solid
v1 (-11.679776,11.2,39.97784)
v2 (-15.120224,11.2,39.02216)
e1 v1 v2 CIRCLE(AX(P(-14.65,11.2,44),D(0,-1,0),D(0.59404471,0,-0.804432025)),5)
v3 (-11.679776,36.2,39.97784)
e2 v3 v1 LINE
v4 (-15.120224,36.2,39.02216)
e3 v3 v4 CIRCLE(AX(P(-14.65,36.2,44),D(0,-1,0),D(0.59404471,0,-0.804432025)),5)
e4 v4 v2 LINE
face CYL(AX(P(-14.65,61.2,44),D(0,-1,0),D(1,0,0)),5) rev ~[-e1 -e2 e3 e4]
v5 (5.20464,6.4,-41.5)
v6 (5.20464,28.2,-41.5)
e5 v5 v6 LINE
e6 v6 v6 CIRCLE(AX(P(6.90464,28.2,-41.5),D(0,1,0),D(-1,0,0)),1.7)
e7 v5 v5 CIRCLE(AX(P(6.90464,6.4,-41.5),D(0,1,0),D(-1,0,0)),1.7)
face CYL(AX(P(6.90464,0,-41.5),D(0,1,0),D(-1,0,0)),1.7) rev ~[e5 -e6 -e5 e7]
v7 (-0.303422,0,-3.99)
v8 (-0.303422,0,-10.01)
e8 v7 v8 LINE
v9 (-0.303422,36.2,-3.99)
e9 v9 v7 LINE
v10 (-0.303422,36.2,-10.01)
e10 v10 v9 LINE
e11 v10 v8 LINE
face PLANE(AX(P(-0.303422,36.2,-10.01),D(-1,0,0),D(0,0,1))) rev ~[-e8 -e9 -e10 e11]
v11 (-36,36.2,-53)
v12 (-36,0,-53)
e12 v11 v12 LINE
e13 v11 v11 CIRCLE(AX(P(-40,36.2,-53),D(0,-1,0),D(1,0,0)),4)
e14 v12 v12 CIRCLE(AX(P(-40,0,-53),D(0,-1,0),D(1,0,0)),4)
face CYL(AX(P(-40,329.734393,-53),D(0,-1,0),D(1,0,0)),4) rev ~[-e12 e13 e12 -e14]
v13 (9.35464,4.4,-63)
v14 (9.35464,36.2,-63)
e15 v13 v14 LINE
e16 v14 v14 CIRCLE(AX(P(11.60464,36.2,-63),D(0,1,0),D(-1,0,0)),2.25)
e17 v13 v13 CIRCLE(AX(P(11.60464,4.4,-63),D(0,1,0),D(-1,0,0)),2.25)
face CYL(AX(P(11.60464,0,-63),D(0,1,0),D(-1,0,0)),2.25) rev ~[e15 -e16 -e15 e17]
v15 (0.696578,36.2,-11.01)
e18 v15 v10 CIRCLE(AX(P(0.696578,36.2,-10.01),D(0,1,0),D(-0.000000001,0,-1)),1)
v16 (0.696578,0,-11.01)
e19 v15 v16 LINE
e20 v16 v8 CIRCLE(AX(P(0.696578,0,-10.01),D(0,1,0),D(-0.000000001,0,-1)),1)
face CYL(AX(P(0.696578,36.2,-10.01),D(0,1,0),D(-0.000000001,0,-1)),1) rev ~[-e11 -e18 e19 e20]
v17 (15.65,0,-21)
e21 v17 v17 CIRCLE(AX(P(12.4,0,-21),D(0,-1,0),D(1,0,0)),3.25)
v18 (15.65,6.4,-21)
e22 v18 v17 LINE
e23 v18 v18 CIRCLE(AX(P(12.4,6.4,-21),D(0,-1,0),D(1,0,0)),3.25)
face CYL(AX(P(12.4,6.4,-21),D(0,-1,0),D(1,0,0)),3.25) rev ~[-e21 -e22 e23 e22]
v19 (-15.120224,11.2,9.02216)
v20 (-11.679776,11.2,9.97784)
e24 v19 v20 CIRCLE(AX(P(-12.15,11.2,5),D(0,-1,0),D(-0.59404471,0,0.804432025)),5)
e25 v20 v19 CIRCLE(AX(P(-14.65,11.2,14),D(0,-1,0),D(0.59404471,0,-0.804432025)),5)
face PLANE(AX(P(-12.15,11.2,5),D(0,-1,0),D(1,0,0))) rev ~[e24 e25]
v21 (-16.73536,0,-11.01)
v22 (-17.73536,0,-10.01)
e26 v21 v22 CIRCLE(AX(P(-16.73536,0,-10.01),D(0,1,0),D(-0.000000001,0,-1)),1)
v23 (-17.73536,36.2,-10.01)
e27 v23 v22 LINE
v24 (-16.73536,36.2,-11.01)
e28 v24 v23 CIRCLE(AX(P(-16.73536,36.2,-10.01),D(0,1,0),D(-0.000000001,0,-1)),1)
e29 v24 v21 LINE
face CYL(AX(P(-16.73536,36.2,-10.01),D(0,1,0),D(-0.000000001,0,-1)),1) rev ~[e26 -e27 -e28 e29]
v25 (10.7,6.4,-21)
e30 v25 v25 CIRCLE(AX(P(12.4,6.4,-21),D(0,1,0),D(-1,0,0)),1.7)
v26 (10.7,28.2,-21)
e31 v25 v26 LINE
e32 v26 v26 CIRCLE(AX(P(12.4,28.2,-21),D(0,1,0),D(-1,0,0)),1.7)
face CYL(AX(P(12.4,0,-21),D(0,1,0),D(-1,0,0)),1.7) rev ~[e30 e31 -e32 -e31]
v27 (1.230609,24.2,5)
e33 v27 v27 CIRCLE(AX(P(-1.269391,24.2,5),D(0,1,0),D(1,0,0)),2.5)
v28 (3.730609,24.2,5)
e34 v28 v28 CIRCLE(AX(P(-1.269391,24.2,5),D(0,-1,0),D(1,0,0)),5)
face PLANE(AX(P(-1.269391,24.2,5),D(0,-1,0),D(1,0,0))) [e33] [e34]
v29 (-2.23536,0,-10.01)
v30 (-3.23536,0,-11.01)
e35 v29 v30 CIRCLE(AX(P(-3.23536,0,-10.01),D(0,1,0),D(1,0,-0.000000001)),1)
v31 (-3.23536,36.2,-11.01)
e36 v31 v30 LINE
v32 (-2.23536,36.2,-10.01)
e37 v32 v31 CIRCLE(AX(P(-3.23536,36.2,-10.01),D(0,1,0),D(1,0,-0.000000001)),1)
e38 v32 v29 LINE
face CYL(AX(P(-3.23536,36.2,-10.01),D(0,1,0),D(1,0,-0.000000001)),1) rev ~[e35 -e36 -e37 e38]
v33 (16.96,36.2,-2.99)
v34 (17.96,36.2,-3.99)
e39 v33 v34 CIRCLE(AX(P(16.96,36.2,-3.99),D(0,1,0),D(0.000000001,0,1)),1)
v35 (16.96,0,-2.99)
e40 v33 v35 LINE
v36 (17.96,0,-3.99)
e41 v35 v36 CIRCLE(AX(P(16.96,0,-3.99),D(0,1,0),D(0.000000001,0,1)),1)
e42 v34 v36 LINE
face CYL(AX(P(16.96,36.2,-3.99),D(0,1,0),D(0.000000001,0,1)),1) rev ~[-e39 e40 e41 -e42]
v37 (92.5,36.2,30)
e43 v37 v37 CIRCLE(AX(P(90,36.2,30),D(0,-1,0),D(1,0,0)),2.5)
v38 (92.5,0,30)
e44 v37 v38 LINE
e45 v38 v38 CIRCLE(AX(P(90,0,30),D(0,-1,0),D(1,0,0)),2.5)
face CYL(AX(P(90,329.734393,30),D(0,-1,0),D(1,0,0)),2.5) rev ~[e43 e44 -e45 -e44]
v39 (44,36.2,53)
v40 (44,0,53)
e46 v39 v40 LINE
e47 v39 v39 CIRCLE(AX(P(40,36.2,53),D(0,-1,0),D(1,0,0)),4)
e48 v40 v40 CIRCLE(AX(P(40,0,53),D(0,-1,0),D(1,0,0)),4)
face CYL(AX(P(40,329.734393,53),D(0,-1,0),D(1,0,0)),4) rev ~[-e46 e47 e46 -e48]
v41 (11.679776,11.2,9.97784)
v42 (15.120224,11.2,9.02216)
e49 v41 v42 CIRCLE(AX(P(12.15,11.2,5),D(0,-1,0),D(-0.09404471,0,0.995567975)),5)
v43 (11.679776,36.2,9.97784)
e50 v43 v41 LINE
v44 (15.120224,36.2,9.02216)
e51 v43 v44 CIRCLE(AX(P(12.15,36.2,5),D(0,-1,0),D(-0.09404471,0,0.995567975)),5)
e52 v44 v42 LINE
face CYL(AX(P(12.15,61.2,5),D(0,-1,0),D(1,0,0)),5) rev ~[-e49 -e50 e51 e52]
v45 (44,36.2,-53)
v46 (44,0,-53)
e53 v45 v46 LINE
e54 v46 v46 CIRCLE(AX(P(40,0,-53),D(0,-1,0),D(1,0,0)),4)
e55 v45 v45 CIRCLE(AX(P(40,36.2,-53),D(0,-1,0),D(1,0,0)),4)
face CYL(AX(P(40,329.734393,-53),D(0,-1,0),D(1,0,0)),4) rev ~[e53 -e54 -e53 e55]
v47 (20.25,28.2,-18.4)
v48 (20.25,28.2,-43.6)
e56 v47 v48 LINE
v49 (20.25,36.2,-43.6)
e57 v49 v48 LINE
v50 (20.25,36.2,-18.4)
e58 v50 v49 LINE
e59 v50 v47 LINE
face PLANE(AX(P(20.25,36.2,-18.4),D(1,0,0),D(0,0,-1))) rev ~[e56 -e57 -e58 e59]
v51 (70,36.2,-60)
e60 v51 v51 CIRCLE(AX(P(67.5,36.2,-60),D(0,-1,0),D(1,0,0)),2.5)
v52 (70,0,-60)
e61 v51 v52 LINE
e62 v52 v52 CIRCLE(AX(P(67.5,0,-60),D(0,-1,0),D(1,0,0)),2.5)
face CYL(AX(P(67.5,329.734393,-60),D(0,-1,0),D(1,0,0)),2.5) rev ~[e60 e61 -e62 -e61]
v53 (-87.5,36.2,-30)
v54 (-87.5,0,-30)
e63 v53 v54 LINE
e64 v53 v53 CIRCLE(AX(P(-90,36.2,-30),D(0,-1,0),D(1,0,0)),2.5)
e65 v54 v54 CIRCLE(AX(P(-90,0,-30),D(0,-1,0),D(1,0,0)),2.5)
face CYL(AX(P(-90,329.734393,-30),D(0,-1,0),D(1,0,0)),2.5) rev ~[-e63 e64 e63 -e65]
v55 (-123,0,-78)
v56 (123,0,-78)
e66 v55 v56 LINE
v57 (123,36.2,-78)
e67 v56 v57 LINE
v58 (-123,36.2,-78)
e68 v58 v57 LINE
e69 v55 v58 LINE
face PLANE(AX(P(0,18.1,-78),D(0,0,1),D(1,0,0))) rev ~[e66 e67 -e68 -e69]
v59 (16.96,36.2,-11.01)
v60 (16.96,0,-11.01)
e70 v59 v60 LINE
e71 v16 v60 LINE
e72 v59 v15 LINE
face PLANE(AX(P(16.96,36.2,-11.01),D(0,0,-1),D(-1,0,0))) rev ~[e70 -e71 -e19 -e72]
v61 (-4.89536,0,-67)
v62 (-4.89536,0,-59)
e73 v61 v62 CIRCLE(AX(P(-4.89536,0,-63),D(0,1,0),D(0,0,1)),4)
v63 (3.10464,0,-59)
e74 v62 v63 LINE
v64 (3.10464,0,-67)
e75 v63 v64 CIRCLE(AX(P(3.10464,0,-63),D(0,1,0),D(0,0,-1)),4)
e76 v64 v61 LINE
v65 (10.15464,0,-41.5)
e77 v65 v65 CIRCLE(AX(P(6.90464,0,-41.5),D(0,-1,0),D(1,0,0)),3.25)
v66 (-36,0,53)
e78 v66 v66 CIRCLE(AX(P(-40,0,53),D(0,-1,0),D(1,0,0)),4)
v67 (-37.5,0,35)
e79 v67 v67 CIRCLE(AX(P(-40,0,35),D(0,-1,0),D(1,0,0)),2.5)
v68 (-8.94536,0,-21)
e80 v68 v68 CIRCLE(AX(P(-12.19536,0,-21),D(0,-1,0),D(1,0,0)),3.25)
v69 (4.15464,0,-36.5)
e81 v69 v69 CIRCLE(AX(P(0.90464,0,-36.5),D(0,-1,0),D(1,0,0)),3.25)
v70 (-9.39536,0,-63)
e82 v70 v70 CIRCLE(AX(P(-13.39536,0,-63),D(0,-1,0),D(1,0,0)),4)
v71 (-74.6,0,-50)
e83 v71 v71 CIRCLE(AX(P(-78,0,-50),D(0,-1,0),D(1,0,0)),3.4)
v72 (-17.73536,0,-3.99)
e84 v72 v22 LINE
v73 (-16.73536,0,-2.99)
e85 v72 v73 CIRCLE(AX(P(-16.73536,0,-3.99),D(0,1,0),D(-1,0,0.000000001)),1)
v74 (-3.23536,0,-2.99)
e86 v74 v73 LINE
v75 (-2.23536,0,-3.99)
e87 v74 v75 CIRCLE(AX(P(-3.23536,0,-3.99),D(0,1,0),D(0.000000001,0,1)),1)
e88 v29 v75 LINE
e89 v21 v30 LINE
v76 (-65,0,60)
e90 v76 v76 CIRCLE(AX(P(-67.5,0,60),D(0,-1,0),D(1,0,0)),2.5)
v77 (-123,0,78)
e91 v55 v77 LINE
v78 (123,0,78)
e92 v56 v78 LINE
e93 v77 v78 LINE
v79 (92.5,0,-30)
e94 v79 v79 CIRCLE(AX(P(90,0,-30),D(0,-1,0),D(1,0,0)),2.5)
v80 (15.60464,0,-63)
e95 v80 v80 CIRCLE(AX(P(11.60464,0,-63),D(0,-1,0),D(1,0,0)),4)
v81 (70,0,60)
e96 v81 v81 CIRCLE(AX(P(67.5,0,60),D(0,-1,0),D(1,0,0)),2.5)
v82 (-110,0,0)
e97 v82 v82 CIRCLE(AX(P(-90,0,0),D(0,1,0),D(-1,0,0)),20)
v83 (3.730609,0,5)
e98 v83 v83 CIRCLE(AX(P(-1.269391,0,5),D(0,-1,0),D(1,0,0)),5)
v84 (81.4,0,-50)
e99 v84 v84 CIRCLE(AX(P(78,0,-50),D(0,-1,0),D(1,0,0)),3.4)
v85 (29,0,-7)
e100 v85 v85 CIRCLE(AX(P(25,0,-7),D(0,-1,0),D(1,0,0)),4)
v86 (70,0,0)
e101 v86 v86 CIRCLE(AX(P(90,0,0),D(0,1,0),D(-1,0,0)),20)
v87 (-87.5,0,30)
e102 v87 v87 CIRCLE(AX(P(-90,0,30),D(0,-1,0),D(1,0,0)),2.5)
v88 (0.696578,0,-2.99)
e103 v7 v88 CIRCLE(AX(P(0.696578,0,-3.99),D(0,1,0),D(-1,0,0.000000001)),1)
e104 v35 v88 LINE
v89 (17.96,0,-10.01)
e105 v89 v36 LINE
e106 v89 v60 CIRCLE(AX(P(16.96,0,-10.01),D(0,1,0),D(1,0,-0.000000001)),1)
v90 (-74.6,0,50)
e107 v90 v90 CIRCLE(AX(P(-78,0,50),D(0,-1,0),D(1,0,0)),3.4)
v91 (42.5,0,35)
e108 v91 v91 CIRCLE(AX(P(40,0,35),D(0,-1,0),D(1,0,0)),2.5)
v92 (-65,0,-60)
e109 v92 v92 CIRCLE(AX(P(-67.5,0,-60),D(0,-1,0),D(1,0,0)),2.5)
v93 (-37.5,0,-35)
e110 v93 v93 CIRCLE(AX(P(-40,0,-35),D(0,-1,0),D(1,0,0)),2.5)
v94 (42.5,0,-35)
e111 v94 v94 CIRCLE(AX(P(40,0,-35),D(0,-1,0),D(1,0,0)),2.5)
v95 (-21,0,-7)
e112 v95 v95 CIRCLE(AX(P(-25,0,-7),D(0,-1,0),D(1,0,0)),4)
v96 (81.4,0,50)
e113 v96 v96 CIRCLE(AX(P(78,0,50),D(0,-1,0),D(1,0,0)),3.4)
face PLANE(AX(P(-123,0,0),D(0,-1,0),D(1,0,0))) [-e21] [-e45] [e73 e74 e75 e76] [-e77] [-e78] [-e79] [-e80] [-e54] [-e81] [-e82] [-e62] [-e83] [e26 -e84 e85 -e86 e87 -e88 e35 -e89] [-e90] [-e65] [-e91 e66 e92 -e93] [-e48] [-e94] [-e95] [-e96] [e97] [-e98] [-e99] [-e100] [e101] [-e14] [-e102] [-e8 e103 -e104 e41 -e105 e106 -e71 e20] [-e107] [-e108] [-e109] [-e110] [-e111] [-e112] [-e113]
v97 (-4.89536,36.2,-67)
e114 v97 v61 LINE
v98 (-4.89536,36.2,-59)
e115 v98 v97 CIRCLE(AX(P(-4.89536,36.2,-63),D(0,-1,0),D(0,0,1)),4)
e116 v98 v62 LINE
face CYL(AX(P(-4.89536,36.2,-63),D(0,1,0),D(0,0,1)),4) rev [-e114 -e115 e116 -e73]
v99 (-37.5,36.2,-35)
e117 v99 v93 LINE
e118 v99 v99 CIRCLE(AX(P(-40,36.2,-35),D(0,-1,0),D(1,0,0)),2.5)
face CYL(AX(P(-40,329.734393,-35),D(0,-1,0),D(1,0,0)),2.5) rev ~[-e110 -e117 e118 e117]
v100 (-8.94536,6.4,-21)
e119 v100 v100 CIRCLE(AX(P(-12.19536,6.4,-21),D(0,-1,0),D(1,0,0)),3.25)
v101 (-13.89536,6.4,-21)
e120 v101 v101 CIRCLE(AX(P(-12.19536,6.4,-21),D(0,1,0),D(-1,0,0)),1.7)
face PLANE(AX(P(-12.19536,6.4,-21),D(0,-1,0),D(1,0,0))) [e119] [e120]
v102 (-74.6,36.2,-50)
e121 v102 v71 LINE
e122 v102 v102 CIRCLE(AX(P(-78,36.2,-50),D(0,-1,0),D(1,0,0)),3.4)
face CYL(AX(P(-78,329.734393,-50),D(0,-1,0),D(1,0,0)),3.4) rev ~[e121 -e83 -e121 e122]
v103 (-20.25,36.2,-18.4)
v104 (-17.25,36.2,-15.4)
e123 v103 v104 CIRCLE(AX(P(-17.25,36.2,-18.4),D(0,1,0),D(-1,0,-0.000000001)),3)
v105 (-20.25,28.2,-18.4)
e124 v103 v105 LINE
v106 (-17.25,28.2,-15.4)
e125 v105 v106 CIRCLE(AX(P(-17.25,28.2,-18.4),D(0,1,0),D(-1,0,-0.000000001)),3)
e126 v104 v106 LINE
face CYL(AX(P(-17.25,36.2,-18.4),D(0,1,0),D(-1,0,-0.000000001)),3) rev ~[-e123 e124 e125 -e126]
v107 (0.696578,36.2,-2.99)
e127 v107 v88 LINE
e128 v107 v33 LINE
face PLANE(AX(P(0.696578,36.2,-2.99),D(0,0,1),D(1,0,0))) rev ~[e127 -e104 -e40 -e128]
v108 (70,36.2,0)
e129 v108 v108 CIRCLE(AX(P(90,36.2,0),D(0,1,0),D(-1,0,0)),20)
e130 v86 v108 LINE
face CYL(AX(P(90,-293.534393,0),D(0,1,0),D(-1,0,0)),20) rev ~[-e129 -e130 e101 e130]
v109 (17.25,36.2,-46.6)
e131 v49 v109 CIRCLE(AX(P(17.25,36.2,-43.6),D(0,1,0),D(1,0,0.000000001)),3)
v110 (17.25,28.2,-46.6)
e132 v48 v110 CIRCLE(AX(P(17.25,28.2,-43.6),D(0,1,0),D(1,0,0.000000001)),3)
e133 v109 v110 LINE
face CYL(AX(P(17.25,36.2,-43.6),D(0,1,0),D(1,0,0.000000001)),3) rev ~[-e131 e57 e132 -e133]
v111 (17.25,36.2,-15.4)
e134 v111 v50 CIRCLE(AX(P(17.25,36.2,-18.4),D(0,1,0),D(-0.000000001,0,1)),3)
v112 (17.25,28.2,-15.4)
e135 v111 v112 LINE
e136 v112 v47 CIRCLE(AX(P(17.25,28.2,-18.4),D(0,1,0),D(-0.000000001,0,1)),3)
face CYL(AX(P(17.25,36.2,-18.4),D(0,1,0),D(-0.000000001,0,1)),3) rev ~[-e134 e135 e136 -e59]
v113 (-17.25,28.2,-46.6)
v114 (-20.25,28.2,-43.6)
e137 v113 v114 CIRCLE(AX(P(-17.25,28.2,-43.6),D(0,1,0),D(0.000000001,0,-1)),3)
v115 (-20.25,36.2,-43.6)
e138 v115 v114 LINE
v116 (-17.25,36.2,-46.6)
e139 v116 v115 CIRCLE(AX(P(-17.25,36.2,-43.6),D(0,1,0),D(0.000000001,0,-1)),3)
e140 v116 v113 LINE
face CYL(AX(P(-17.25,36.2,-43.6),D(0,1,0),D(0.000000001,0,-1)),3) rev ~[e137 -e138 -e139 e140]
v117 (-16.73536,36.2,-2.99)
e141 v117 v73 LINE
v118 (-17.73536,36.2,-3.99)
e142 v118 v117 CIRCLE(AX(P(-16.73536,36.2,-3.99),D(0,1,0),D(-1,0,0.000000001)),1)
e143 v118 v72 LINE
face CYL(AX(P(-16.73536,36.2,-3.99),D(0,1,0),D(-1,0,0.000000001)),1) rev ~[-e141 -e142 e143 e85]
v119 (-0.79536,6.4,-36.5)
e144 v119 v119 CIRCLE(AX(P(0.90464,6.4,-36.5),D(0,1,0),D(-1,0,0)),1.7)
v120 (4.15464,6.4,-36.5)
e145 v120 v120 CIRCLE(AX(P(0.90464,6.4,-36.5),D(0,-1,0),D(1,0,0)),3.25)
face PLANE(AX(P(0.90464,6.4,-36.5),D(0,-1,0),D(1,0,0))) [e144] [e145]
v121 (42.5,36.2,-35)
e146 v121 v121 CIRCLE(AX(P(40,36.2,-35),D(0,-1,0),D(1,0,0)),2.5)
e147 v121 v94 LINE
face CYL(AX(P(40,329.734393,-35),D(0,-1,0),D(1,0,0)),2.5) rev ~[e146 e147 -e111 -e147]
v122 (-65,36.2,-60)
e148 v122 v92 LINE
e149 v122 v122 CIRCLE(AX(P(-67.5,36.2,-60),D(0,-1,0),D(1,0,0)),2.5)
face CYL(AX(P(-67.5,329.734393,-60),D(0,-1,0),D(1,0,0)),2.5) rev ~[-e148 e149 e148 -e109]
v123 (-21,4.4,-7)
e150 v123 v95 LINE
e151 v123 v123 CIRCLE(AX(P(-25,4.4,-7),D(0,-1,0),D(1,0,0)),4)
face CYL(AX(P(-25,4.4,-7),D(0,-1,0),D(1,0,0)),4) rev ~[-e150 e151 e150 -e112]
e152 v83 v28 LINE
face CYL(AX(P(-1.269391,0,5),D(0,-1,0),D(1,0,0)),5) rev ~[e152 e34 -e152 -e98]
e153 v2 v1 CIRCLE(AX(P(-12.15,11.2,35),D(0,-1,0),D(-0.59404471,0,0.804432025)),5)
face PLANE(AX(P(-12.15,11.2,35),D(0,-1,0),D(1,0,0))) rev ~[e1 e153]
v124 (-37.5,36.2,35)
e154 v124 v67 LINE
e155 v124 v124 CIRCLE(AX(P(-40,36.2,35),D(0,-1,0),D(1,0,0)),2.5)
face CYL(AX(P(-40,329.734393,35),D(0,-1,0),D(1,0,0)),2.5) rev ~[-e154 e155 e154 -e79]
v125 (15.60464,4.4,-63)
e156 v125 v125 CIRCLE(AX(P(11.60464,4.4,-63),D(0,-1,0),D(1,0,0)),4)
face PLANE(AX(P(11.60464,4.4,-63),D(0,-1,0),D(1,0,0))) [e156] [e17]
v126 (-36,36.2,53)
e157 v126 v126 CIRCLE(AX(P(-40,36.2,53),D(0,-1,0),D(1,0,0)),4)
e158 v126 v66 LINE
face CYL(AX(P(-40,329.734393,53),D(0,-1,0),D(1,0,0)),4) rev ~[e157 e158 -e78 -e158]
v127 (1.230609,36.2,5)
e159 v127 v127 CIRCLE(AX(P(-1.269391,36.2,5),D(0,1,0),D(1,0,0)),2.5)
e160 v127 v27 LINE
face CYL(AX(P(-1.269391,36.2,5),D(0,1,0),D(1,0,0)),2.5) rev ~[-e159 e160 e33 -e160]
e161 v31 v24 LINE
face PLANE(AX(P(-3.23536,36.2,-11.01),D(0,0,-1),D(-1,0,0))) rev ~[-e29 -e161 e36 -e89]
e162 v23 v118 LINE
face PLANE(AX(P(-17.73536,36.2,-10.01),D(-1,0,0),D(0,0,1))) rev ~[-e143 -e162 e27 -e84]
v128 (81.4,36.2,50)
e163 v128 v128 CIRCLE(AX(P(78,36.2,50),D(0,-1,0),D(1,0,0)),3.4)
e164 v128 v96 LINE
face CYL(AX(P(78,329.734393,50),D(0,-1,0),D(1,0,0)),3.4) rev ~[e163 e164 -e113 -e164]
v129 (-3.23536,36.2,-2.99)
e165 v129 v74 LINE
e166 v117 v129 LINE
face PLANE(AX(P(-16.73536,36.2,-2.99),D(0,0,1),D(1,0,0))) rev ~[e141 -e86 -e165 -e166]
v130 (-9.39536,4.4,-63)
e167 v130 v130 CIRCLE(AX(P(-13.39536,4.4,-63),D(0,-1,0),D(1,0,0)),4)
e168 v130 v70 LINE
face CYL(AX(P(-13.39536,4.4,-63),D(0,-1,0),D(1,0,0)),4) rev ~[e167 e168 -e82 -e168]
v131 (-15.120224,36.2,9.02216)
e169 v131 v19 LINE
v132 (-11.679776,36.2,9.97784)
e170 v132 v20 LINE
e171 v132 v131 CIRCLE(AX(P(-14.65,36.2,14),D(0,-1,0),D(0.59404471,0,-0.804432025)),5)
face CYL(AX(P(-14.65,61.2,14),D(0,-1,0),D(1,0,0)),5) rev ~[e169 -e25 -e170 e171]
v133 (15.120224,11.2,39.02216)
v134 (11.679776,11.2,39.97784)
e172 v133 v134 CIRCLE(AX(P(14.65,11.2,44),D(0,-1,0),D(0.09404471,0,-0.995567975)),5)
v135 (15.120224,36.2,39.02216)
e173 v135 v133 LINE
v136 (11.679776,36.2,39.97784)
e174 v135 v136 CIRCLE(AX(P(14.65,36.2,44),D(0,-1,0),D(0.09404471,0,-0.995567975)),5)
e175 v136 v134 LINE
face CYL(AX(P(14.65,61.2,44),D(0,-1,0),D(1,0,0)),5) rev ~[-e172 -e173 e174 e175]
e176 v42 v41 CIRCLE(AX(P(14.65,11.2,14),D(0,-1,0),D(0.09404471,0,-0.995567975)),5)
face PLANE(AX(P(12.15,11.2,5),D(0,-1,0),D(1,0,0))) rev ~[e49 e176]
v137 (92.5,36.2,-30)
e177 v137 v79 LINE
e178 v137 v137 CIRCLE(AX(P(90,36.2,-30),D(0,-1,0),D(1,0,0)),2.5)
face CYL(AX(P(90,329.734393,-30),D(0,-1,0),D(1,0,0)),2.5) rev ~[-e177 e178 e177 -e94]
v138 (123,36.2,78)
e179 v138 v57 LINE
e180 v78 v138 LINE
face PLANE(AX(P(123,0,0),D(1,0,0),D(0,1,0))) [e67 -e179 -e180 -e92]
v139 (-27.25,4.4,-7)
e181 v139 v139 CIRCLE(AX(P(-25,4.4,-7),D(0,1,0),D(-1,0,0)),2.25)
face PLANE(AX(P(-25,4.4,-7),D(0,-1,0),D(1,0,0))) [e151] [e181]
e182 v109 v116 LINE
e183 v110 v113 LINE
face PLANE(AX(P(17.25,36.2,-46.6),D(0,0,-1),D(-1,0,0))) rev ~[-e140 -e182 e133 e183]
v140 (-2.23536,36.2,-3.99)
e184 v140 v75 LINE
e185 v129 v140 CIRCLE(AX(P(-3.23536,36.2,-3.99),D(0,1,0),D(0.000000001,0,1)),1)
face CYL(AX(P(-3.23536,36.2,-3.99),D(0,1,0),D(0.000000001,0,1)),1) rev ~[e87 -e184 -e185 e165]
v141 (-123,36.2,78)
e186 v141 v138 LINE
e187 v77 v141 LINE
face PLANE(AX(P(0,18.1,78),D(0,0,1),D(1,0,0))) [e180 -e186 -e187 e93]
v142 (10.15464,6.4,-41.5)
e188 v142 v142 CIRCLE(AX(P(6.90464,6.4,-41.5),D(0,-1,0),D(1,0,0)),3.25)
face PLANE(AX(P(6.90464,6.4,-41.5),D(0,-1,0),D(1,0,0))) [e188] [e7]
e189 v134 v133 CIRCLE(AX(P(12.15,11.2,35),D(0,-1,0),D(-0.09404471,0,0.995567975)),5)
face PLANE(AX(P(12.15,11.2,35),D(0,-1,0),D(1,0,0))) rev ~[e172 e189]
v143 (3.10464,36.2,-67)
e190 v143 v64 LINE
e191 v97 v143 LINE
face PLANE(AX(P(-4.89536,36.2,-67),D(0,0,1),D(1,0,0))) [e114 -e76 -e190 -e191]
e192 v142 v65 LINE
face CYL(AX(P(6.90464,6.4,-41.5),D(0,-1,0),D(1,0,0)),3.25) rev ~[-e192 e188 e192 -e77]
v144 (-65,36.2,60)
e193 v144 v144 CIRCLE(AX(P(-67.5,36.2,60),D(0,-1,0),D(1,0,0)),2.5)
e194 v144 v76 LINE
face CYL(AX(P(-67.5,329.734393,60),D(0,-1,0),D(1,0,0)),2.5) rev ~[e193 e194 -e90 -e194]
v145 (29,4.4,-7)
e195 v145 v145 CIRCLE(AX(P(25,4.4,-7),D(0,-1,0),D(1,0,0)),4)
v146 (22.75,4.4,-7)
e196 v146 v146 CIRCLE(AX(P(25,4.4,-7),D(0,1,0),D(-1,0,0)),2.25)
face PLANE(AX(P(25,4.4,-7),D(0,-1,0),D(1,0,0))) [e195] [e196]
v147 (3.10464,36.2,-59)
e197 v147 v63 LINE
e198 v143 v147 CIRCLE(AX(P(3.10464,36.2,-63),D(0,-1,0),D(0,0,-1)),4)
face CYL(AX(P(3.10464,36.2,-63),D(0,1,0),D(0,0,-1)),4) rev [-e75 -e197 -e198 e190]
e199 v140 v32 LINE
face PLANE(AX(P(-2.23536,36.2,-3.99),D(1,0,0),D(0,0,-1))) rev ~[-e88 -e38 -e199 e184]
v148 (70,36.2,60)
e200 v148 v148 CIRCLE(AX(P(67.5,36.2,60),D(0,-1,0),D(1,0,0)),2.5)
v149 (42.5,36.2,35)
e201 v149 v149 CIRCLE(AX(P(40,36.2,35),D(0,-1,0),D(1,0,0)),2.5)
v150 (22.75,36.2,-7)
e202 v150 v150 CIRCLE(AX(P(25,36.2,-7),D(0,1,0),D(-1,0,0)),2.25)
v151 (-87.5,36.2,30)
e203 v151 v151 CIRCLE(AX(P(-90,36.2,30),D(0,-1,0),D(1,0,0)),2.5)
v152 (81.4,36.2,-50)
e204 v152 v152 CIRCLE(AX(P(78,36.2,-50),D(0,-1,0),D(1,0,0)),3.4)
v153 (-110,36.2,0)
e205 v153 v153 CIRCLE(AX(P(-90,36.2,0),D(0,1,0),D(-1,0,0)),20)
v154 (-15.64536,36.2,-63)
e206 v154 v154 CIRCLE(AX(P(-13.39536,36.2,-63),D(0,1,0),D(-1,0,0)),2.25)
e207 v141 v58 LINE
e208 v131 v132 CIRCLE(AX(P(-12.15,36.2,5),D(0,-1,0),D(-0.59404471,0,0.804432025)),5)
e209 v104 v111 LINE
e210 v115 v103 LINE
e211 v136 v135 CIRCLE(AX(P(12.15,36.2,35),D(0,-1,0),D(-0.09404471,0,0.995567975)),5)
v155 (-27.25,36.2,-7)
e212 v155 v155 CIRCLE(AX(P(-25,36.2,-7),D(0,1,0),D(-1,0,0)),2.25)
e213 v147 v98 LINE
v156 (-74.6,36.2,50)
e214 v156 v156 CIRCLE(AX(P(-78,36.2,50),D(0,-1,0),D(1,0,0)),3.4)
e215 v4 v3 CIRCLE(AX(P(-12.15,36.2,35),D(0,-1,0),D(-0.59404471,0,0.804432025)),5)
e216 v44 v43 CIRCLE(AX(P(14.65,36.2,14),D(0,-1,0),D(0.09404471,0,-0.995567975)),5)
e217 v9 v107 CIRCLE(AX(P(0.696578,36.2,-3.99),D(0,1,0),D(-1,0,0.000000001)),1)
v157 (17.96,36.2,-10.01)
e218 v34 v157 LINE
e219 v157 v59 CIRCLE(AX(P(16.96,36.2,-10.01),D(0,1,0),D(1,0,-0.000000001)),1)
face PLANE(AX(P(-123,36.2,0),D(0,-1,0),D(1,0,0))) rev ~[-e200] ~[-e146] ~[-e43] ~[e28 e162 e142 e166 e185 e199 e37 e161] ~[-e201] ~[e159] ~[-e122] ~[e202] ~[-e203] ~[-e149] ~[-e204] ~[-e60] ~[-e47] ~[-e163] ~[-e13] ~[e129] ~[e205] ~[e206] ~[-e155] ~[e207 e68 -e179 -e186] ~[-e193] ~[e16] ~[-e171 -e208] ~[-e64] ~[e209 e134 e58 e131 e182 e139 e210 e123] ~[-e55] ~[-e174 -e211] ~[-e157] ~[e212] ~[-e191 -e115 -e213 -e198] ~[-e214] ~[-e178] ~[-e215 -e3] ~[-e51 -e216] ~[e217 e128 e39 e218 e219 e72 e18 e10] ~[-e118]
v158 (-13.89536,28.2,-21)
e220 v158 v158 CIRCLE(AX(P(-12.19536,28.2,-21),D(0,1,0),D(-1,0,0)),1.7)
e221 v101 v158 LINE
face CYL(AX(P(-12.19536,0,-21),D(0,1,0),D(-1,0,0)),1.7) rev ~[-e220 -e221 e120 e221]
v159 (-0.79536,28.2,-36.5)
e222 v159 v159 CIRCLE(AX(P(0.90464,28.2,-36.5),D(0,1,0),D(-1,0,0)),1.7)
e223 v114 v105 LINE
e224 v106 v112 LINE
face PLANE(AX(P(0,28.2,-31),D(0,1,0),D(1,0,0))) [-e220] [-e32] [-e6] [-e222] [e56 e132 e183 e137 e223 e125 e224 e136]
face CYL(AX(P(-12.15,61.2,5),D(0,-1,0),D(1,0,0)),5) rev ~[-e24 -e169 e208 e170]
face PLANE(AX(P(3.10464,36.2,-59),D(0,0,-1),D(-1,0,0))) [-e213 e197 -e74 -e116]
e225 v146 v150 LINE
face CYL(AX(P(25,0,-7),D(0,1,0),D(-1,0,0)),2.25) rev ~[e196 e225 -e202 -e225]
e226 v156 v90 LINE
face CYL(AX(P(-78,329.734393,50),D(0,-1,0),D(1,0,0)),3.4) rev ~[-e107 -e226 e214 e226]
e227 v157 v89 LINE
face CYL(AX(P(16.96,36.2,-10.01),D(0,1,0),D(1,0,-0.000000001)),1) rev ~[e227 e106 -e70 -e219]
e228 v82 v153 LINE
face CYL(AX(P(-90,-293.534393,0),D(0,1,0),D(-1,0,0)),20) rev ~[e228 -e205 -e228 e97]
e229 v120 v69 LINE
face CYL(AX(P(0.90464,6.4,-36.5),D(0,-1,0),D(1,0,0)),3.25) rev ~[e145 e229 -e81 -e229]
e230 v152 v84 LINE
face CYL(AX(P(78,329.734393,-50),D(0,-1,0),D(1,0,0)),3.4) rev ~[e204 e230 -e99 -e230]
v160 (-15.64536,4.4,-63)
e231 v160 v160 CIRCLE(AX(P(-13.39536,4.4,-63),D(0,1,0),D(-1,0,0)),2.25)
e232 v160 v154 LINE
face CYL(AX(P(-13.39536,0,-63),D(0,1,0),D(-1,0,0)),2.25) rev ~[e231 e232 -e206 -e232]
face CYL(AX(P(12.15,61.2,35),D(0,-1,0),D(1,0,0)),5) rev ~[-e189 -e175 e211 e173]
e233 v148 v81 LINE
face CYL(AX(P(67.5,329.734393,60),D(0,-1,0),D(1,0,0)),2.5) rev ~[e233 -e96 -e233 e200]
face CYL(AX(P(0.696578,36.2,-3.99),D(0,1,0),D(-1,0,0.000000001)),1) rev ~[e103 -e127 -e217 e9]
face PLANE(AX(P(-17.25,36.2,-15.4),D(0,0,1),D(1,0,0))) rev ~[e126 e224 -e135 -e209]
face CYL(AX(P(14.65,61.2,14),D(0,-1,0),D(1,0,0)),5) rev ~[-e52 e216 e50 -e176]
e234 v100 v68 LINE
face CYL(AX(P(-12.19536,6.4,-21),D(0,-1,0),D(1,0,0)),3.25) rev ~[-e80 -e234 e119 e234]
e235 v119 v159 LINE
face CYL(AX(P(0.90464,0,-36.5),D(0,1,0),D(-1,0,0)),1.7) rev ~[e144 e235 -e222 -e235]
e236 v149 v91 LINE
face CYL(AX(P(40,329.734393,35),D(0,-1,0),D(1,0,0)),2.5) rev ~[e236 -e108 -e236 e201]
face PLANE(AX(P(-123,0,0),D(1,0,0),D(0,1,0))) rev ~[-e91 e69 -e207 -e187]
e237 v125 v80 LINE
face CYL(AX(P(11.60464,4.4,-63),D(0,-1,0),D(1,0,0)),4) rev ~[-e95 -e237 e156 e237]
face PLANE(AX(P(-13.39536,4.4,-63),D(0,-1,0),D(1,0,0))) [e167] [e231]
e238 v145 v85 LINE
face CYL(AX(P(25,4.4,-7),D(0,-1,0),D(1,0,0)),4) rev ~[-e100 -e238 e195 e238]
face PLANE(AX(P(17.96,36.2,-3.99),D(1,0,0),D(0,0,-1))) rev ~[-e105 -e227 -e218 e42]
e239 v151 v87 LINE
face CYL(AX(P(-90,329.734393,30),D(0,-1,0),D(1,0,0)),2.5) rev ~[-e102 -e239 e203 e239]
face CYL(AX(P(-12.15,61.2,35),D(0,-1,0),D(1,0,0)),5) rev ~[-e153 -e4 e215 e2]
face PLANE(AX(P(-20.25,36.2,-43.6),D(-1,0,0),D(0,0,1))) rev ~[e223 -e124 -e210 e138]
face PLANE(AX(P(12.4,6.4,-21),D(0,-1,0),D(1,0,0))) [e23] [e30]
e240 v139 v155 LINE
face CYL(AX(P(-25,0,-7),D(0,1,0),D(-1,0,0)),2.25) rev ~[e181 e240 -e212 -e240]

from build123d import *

# Parameters (mm, degrees)
SKETCH1_W                                           = 246
SKETCH1_H                                           = 36.2
EXTRUDE1_DEPTH                                      = 78
HOLE3_D                                             = 40
LPATTERN1_COUNT                                     = 2
LPATTERN1_PITCH                                     = 180
M6_TAPPED_HOLE1_D                                   = 5
HOLE4_D                                             = 8
M8_TAPPED_HOLE1_D                                   = 6.8
LPATTERN2_COUNT                                     = 2
LPATTERN2_PITCH                                     = 100
LPATTERN2_COUNT_DIR2                                = 2
LPATTERN2_PITCH_DIR2                                = 156
M6_TAPPED_HOLE2_D                                   = 5
M6_TAPPED_HOLE3_D                                   = 5
LPATTERN3_COUNT                                     = 2
LPATTERN3_PITCH                                     = 135
LPATTERN3_COUNT_DIR2                                = 2
LPATTERN3_PITCH_DIR2                                = 120
HOLE6_D                                             = 10
HOLE6_DEPTH                                         = 25
SKETCH30_R                                          = 2.5
CUT_EXTRUDE1_DEPTH                                  = 37.2
SKETCH31_R                                          = 5
CUT_EXTRUDE2_DEPTH                                  = 24.2
CBORE_FOR_M3_HEX_SOCKET_HEAD_CAP_SCREW1_D           = 3.4
CBORE_FOR_M3_HEX_SOCKET_HEAD_CAP_SCREW1_CBORE_D     = 6.5
CBORE_FOR_M3_HEX_SOCKET_HEAD_CAP_SCREW1_CBORE_DEPTH = 6.4
CBORE_FOR_M4_HEX_SOCKET_HEAD_CAP_SCREW1_D           = 4.5
CBORE_FOR_M4_HEX_SOCKET_HEAD_CAP_SCREW1_CBORE_D     = 8
CBORE_FOR_M4_HEX_SOCKET_HEAD_CAP_SCREW1_CBORE_DEPTH = 4.4
CUT_EXTRUDE3_DEPTH                                  = 8


with BuildPart() as part:
    # Sketch1 → Extrude1 (new body, symmetric)
    with BuildSketch(Plane.XY):
        with Locations((0, 18.1)):
            Rectangle(SKETCH1_W, SKETCH1_H)
    extrude(amount=EXTRUDE1_DEPTH, both=True)

    # Hole3 (through all)
    with Locations(Plane.XZ):
        with Locations((90, 0)):
            hole3 = Hole(HOLE3_D / 2)

    # LPattern1: Hole3 ×2
    with Locations(*[(-i * LPATTERN1_PITCH, 0, 0) for i in range(1, LPATTERN1_COUNT)]):
        add(hole3, mode=Mode.SUBTRACT)

    # M6 Tapped Hole1 (through all)
    with Locations(Plane(origin=(0, 36.2, 0), x_dir=(-1, 0, 0), z_dir=(0, 1, 0))):
        with Locations((-40, 35), (40, 35), (40, -35), (-40, -35)):
            Hole(M6_TAPPED_HOLE1_D / 2)

    # Hole4 (through all)
    with Locations(Plane(origin=(0, 36.2, 0), x_dir=(-1, 0, 0), z_dir=(0, 1, 0))):
        with Locations((-40, -53), (-40, 53), (40, 53), (40, -53)):
            Hole(HOLE4_D / 2)

    # M8 Tapped Hole1 (through all)
    with Locations(Plane(origin=(0, 36.2, 0), x_dir=(-1, 0, 0), z_dir=(0, 1, 0))):
        with Locations((78, 50)):
            m8_tapped_hole1 = Hole(M8_TAPPED_HOLE1_D / 2)

    # LPattern2: M8 Tapped Hole1 2 × 2
    with Locations(*[(j * LPATTERN2_PITCH_DIR2, 0, -i * LPATTERN2_PITCH) for i in range(LPATTERN2_COUNT) for j in range(LPATTERN2_COUNT_DIR2) if (i, j) != (0, 0)]):
        add(m8_tapped_hole1, mode=Mode.SUBTRACT)

    # M6 Tapped Hole2 (through all)
    with Locations(Plane(origin=(0, 36.2, 0), x_dir=(-1, 0, 0), z_dir=(0, 1, 0))):
        with Locations((90, 30), (90, -30), (-90, -30), (-90, 30)):
            Hole(M6_TAPPED_HOLE2_D / 2)

    # M6 Tapped Hole3 (through all)
    with Locations(Plane(origin=(0, 36.2, 0), x_dir=(-1, 0, 0), z_dir=(0, 1, 0))):
        with Locations((67.5, -60)):
            m6_tapped_hole3 = Hole(M6_TAPPED_HOLE3_D / 2)

    # LPattern3: M6 Tapped Hole3 2 × 2
    with Locations(*[(i * LPATTERN3_PITCH, 0, j * LPATTERN3_PITCH_DIR2) for i in range(LPATTERN3_COUNT) for j in range(LPATTERN3_COUNT_DIR2) if (i, j) != (0, 0)]):
        add(m6_tapped_hole3, mode=Mode.SUBTRACT)

    # Hole6
    with Locations(Plane(origin=(0, 36.2, 0), x_dir=(-1, 0, 0), z_dir=(0, 1, 0))):
        with Locations((-12.15, 35), (12.15, 35), (-12.15, 5), (12.15, 5), (14.65, 14), (-14.65, 14), (-14.65, 44), (14.65, 44)):
            Hole(HOLE6_D / 2, depth=HOLE6_DEPTH)

    # Sketch30 → Cut-Extrude1 (cut, through all)
    with BuildSketch(Plane(origin=(0, 36.2, 0), x_dir=(1, 0, 0), z_dir=(0, 1, 0))):
        with Locations((-1.269390874, -5)):
            Circle(SKETCH30_R)
        with BuildLine():
            Line((3.104640419, 59), (-4.895359581, 59))
            ThreePointArc((-4.895359581, 59), (-8.895359581, 63), (-4.895359581, 67))
            Line((-4.895359581, 67), (3.104640419, 67))
            ThreePointArc((3.104640419, 67), (7.104640419, 63), (3.104640419, 59))
        make_face()
        with BuildLine():
            Line((16.96, 11.01), (0.696577832, 11.01))
            ThreePointArc((0.696577832, 11.01), (-0.010528949, 10.717106781), (-0.303422168, 10.01))
            Line((-0.303422168, 10.01), (-0.303422168, 3.99))
            ThreePointArc((-0.303422168, 3.99), (-0.010528949, 3.282893219), (0.696577832, 2.99))
            Line((0.696577832, 2.99), (16.96, 2.99))
            ThreePointArc((16.96, 2.99), (17.667106781, 3.282893219), (17.96, 3.99))
            Line((17.96, 3.99), (17.96, 10.01))
            ThreePointArc((17.96, 10.01), (17.667106781, 10.717106781), (16.96, 11.01))
        make_face()
        with BuildLine():
            Line((-3.235359581, 11.01), (-16.735359581, 11.01))
            ThreePointArc((-16.735359581, 11.01), (-17.442466362, 10.717106781), (-17.735359581, 10.01))
            Line((-17.735359581, 10.01), (-17.735359581, 3.99))
            ThreePointArc((-17.735359581, 3.99), (-17.442466362, 3.282893219), (-16.735359581, 2.99))
            Line((-16.735359581, 2.99), (-3.235359581, 2.99))
            ThreePointArc((-3.235359581, 2.99), (-2.5282528, 3.282893219), (-2.235359581, 3.99))
            Line((-2.235359581, 3.99), (-2.235359581, 10.01))
            ThreePointArc((-2.235359581, 10.01), (-2.5282528, 10.717106781), (-3.235359581, 11.01))
        make_face()
    extrude(amount=-CUT_EXTRUDE1_DEPTH, mode=Mode.SUBTRACT)

    # Sketch31 → Cut-Extrude2 (cut)
    with BuildSketch(Plane.XZ):
        with Locations((-1.269390874, 5)):
            Circle(SKETCH31_R)
    extrude(amount=-CUT_EXTRUDE2_DEPTH, mode=Mode.SUBTRACT)

    # CBORE for M3 Hex Socket Head Cap Screw1 (through all)
    with Locations(Plane.XZ):
        with Locations((-12.195359581, -21), (12.4, -21), (0.904640419, -36.5), (6.904640419, -41.5)):
            CounterBoreHole(CBORE_FOR_M3_HEX_SOCKET_HEAD_CAP_SCREW1_D / 2, CBORE_FOR_M3_HEX_SOCKET_HEAD_CAP_SCREW1_CBORE_D / 2, CBORE_FOR_M3_HEX_SOCKET_HEAD_CAP_SCREW1_CBORE_DEPTH)

    # CBORE for M4 Hex Socket Head Cap Screw1 (through all)
    with Locations(Plane.XZ):
        with Locations((-25, -7), (25, -7), (-13.395359581, -63), (11.604640419, -63)):
            CounterBoreHole(CBORE_FOR_M4_HEX_SOCKET_HEAD_CAP_SCREW1_D / 2, CBORE_FOR_M4_HEX_SOCKET_HEAD_CAP_SCREW1_CBORE_D / 2, CBORE_FOR_M4_HEX_SOCKET_HEAD_CAP_SCREW1_CBORE_DEPTH)

    # Sketch36 → Cut-Extrude3 (cut)
    with BuildSketch(Plane(origin=(0, 36.2, 0), x_dir=(1, 0, 0), z_dir=(0, 1, 0))):
        with BuildLine():
            Line((17.25, 46.6), (-17.25, 46.6))
            ThreePointArc((-17.25, 46.6), (-19.371320344, 45.721320344), (-20.25, 43.6))
            Line((-20.25, 43.6), (-20.25, 18.4))
            ThreePointArc((-20.25, 18.4), (-19.371320344, 16.278679656), (-17.25, 15.4))
            Line((-17.25, 15.4), (17.25, 15.4))
            ThreePointArc((17.25, 15.4), (19.371320344, 16.278679656), (20.25, 18.4))
            Line((20.25, 18.4), (20.25, 43.6))
            ThreePointArc((20.25, 43.6), (19.371320344, 45.721320344), (17.25, 46.6))
        make_face()
    extrude(amount=-CUT_EXTRUDE3_DEPTH, mode=Mode.SUBTRACT)


solid = part.part
